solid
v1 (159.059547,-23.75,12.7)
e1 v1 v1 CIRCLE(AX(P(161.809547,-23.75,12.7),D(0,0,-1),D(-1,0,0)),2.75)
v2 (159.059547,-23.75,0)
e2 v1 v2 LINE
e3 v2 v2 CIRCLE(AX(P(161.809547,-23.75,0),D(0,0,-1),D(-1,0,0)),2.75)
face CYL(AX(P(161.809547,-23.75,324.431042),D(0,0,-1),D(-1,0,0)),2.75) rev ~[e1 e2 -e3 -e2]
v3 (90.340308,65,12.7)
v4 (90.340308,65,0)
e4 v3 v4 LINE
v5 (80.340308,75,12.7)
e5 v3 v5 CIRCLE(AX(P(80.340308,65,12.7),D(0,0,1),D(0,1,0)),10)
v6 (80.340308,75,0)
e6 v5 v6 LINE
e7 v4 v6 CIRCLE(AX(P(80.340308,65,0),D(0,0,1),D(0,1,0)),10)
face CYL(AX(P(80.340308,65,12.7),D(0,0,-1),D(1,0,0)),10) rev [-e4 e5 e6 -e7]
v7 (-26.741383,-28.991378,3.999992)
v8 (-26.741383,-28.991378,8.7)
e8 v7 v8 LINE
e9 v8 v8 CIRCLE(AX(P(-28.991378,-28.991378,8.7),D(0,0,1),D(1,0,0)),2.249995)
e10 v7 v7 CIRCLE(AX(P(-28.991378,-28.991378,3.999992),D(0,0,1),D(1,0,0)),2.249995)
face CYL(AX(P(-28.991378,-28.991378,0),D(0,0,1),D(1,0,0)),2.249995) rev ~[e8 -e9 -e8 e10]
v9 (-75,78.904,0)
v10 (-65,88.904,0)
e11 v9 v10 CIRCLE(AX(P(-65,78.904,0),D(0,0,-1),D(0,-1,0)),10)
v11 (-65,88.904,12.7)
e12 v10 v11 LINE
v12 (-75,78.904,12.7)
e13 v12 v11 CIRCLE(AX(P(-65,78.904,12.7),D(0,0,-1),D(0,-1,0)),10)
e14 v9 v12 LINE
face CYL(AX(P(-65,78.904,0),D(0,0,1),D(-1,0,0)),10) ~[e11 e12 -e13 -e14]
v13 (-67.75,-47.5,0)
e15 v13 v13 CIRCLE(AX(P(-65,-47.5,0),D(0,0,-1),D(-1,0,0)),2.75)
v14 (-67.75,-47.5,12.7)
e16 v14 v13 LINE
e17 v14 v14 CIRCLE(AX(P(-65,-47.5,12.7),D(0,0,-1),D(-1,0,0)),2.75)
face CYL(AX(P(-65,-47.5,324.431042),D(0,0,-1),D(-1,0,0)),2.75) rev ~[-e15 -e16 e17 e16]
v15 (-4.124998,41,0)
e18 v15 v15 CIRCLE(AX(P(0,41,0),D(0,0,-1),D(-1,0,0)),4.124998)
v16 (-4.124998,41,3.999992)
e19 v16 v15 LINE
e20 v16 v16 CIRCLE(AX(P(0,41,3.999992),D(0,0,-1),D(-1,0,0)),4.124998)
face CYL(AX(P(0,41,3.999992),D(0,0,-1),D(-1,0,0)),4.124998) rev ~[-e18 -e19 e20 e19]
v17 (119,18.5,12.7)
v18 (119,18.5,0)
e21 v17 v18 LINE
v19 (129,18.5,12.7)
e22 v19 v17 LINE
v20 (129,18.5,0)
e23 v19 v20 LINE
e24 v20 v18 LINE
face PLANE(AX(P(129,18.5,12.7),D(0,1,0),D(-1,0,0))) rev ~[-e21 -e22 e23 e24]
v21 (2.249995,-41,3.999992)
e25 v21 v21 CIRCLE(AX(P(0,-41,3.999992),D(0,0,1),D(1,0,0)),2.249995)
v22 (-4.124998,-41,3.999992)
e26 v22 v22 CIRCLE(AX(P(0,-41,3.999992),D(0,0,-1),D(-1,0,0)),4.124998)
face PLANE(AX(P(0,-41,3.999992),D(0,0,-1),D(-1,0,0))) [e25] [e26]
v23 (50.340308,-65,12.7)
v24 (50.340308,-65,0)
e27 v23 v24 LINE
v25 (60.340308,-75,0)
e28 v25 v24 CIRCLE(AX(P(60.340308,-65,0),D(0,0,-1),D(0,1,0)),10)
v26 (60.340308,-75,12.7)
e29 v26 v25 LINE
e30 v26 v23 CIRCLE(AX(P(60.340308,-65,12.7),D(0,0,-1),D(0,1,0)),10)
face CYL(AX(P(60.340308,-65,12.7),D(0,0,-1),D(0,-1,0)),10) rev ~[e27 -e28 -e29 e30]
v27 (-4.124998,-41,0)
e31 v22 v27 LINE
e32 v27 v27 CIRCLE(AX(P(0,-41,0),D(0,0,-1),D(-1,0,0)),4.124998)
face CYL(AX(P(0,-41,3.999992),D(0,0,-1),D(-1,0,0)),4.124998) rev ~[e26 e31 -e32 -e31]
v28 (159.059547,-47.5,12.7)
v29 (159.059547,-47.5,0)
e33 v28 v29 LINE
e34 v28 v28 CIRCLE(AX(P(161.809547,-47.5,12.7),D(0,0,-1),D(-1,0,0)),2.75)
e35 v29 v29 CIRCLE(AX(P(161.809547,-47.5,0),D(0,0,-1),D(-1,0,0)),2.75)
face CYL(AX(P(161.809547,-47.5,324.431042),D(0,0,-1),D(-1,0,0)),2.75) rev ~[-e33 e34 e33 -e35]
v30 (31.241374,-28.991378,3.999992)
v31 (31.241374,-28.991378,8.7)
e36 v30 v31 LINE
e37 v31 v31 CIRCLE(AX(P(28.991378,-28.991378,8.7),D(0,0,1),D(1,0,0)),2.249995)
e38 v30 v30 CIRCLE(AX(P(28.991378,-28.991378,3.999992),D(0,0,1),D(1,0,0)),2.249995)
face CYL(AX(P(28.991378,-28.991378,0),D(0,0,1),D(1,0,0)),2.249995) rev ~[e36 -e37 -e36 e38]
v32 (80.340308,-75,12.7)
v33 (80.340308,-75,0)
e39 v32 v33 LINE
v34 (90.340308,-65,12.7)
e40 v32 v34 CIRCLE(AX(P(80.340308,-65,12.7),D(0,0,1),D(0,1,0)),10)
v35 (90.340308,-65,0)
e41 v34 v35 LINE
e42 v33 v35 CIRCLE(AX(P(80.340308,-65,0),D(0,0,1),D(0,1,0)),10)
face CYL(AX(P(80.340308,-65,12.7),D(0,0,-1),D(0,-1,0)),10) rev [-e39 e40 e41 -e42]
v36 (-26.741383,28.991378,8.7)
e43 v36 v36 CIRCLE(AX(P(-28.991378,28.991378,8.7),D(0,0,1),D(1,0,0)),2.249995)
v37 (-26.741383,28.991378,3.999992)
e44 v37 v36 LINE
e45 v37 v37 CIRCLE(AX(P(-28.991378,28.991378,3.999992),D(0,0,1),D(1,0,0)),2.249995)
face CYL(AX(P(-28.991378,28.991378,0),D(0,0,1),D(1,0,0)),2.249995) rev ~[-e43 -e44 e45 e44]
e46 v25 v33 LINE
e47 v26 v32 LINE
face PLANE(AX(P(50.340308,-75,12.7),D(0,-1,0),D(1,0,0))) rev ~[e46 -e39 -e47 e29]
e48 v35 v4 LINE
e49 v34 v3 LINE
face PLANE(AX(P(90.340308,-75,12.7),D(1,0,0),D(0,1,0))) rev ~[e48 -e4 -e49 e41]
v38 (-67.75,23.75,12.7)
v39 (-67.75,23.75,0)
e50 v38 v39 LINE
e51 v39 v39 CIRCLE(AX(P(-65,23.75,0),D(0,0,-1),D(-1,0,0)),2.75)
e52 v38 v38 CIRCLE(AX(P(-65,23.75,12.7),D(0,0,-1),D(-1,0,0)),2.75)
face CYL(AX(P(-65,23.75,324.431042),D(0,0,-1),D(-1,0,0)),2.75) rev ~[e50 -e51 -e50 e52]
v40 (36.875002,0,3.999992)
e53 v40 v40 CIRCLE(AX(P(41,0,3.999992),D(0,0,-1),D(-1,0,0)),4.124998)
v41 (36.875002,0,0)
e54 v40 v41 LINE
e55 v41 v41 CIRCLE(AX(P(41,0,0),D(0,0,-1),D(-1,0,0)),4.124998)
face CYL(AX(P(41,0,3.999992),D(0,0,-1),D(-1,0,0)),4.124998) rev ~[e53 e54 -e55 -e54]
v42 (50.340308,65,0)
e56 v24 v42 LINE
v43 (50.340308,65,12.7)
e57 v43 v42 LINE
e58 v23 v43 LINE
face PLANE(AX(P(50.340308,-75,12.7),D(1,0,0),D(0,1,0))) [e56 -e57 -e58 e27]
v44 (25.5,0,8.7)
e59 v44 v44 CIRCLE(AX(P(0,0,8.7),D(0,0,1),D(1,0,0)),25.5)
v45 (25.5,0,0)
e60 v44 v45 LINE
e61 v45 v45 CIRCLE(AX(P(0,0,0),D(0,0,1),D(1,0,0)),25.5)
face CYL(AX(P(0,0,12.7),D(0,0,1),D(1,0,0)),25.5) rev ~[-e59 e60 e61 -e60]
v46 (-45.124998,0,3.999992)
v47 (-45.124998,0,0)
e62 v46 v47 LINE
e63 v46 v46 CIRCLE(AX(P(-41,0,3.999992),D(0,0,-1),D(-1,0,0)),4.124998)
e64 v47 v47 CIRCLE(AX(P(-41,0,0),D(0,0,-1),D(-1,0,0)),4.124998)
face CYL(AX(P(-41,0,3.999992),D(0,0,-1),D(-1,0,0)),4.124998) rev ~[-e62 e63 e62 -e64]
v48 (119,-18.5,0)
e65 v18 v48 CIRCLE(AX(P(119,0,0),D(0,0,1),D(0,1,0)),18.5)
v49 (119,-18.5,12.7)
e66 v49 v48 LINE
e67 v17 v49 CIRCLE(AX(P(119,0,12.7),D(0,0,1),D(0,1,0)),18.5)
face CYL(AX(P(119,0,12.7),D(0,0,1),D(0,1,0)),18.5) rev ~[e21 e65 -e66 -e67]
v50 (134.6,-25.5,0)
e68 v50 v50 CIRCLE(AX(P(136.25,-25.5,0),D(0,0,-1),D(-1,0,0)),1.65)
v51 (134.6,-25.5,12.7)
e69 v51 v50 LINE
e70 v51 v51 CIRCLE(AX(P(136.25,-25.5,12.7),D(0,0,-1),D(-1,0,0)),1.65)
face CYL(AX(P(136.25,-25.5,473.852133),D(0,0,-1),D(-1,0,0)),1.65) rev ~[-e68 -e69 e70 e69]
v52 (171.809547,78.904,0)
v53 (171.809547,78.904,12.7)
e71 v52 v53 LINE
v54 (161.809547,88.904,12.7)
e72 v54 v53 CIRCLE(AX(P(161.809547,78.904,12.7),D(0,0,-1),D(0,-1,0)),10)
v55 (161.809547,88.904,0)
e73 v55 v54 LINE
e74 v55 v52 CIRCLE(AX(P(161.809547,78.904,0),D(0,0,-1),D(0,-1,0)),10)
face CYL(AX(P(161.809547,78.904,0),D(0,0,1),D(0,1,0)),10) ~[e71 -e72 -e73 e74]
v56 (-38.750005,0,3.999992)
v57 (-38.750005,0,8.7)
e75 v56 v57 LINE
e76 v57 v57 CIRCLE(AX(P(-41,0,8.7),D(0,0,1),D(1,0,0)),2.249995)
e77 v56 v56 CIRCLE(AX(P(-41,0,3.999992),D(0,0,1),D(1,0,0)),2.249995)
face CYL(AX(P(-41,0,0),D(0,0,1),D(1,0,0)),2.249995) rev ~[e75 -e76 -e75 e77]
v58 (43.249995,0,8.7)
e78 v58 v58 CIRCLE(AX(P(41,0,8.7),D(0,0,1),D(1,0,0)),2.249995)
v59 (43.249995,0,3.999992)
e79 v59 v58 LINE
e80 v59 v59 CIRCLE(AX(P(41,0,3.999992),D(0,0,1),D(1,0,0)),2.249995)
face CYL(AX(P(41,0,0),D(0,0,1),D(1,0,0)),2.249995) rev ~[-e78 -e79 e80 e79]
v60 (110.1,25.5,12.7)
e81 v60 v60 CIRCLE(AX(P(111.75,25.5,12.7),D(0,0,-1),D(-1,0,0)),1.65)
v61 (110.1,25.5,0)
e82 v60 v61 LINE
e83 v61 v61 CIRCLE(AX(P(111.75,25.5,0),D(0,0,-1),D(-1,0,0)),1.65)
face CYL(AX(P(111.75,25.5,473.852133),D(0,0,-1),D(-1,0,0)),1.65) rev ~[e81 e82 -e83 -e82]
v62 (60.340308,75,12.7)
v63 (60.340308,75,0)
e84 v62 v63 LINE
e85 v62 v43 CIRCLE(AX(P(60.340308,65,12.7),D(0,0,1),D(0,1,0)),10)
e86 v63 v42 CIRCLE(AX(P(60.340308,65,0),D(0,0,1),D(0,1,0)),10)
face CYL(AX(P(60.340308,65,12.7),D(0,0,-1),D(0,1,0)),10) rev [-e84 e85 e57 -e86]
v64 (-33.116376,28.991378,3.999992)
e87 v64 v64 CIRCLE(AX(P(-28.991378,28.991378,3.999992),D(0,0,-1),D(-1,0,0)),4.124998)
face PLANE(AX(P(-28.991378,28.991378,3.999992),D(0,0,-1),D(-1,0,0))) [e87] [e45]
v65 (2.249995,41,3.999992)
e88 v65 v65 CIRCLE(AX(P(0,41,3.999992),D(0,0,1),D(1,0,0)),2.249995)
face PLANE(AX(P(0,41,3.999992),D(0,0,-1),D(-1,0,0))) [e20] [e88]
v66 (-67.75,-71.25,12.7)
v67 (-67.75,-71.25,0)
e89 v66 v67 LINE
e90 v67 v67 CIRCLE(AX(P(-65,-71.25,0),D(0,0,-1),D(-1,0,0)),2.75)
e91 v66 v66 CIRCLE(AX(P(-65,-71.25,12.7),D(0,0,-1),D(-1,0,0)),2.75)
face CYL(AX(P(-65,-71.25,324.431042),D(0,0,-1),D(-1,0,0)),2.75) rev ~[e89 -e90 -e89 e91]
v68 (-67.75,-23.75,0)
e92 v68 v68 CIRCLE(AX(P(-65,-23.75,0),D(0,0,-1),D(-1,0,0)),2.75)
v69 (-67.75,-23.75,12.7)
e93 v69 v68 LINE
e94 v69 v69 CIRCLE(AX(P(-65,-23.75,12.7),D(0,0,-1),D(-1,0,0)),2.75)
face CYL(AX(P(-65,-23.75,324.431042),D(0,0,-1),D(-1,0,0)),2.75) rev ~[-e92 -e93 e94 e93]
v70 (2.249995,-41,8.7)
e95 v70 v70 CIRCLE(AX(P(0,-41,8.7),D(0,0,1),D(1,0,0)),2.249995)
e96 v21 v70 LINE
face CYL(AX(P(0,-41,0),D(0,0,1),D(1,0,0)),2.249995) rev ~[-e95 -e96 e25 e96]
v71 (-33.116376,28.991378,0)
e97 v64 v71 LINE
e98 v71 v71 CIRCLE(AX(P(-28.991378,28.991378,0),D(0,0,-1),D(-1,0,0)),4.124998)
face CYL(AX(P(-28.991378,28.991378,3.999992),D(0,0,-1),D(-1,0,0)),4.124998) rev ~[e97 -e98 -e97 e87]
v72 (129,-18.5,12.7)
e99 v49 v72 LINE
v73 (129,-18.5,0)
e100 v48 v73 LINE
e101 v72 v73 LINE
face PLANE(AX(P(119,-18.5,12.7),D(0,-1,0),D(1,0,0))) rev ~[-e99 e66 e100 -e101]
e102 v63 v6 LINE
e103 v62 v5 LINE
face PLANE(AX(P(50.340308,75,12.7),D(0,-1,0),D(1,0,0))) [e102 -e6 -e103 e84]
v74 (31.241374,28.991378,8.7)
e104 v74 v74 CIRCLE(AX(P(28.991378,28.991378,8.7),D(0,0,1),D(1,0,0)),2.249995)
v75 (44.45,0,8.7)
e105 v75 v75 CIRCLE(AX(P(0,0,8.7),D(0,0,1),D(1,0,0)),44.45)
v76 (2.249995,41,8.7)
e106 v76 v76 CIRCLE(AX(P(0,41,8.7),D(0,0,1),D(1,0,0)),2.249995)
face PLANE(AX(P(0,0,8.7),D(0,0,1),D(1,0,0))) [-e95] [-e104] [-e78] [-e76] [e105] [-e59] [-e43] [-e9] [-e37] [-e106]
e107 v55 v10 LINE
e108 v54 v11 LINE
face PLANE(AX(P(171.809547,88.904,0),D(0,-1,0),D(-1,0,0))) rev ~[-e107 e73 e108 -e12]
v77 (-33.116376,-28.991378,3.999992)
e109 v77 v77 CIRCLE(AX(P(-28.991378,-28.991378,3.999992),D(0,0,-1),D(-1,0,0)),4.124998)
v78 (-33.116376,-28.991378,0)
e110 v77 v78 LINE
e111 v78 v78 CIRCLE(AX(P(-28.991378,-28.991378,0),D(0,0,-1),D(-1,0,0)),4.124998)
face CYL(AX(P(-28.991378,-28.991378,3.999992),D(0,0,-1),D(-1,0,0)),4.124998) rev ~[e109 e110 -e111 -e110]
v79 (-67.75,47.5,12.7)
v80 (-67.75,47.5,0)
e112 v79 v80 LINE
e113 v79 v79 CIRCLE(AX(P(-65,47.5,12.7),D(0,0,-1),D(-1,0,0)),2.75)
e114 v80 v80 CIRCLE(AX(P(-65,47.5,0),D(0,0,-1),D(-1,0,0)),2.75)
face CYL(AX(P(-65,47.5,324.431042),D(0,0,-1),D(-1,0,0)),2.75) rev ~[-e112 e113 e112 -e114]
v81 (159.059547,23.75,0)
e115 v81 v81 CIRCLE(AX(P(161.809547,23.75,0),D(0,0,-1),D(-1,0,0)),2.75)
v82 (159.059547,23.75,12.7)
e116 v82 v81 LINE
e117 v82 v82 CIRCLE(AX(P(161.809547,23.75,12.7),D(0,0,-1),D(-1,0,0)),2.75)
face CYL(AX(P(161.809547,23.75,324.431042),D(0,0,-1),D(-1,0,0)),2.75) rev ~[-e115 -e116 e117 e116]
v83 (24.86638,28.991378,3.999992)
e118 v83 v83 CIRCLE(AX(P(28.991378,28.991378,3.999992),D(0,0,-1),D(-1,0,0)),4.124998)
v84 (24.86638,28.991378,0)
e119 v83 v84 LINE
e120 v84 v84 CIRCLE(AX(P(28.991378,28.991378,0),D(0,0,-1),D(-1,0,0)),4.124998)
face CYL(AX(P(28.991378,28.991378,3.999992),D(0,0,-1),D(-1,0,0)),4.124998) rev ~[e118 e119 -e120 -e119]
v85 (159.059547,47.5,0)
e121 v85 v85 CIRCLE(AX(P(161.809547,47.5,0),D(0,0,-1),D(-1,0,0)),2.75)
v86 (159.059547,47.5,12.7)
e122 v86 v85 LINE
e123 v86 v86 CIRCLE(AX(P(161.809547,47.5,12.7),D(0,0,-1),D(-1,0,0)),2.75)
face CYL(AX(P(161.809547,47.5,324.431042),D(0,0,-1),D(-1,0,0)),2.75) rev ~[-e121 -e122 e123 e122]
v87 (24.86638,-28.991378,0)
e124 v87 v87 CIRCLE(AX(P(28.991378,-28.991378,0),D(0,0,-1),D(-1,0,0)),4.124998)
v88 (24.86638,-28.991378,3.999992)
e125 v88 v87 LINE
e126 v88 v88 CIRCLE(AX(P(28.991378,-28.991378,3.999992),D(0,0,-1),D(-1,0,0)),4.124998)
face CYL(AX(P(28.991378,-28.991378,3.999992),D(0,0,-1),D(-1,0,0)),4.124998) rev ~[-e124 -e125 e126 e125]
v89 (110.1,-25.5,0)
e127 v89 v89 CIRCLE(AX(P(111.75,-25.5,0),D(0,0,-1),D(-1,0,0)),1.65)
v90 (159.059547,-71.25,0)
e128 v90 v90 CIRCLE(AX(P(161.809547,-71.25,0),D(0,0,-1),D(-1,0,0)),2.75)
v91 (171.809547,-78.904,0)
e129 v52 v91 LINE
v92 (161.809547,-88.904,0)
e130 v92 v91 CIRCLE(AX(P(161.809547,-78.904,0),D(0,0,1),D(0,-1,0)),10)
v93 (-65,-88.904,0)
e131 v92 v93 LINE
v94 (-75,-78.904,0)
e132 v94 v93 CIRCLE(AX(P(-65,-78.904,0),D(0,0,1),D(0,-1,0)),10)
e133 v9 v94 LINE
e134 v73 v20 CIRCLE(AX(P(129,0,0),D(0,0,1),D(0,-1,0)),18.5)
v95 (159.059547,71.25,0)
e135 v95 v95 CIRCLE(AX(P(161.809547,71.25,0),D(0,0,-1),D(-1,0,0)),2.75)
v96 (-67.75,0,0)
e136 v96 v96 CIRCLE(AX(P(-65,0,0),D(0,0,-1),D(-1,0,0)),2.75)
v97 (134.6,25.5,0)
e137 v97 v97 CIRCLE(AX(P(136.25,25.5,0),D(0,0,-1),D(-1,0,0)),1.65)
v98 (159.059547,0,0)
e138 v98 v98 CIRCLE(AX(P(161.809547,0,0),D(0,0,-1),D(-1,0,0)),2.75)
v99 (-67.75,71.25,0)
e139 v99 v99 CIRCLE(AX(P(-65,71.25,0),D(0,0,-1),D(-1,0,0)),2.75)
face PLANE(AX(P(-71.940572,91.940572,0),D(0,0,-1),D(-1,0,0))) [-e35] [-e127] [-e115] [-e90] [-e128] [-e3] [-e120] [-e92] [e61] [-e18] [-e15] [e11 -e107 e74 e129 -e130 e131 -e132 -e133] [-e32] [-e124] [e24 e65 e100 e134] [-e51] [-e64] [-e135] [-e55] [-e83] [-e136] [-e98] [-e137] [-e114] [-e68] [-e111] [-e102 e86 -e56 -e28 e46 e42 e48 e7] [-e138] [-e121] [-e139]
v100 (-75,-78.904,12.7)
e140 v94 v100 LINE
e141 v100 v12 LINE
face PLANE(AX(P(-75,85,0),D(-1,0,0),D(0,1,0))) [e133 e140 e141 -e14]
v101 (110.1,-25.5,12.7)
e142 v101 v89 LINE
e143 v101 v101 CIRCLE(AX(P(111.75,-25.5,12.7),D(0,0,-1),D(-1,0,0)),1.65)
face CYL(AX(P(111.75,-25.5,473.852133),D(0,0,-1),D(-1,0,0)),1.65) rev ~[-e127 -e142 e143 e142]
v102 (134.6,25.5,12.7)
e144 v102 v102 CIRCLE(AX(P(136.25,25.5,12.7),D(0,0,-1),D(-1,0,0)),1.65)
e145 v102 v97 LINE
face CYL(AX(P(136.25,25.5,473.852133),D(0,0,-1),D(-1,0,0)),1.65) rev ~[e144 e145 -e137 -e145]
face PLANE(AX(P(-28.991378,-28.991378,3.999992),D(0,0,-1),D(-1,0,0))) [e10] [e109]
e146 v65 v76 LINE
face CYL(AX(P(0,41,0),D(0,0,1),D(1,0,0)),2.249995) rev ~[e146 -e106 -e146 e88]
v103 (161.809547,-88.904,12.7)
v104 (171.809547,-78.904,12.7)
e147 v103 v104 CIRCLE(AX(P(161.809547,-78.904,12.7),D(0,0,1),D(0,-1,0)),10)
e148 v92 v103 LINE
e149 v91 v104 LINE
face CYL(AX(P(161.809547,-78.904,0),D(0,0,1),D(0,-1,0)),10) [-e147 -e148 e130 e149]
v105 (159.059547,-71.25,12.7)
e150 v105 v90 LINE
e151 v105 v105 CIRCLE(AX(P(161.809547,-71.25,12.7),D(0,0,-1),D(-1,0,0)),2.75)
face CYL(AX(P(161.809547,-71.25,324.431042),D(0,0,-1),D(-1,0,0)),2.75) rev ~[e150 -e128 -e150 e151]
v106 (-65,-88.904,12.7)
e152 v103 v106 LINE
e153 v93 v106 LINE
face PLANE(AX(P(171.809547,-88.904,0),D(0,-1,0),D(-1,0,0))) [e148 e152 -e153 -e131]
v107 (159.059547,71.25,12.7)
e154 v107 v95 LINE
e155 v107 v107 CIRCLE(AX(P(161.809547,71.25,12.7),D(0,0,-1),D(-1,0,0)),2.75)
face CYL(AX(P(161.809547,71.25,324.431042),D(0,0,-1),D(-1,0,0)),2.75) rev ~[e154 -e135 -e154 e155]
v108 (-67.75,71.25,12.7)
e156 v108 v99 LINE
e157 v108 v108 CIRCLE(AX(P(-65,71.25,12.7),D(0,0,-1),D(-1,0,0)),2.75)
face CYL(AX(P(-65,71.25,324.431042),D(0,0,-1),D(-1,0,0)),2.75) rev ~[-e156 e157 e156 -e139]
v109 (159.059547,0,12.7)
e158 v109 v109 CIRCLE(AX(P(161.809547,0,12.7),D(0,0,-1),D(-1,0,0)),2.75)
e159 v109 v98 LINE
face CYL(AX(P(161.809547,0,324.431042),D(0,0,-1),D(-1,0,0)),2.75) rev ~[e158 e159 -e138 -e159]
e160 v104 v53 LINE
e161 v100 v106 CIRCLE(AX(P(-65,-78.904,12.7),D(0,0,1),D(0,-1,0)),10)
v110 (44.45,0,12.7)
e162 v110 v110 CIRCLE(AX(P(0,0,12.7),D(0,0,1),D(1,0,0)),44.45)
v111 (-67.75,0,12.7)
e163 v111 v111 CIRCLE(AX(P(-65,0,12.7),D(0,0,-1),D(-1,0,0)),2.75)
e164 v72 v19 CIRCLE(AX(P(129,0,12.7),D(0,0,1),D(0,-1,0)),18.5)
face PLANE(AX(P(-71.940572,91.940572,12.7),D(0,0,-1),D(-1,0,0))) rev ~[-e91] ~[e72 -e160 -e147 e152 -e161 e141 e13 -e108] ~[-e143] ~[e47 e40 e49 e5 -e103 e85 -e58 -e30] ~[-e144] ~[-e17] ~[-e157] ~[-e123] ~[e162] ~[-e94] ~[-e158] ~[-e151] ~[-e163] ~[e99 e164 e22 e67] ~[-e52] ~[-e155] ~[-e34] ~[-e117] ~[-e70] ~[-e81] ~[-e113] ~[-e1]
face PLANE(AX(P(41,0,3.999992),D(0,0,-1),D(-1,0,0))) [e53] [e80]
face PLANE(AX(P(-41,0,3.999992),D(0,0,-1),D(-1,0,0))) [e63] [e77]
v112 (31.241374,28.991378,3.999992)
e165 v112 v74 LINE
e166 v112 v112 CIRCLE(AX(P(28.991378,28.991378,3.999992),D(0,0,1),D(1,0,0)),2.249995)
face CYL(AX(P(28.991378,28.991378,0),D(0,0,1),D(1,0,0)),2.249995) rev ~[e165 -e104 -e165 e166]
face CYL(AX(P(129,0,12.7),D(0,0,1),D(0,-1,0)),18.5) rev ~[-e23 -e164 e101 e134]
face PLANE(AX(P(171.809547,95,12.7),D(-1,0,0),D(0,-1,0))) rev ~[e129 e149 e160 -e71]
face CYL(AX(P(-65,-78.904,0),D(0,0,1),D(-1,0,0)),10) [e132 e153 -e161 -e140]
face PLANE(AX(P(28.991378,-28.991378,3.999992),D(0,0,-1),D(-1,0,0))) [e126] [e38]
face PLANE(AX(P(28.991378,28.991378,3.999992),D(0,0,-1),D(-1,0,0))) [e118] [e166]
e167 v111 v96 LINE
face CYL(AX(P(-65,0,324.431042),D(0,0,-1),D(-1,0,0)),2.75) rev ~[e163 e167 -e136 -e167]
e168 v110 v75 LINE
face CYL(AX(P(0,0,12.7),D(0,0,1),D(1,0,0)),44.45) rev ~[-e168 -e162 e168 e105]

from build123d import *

# Parameters (mm, degrees)
SKETCH1_W                                           = 420
SKETCH1_H                                           = 190
BOSS_EXTRUDE1_DEPTH                                 = 12.7
FILLET1_R                                           = 10
SKETCH8_R                                           = 44.45
CUT_EXTRUDE1_DEPTH                                  = 4
SKETCH8_3_R                                         = 25.5
CUT_EXTRUDE2_DEPTH                                  = 13.7
CBORE_FOR_8_BINDING_HEAD_MACHINE_SCREW1_D           = 4.499991
CBORE_FOR_8_BINDING_HEAD_MACHINE_SCREW1_DEPTH       = 10
CBORE_FOR_8_BINDING_HEAD_MACHINE_SCREW1_CBORE_D     = 8.2499962
CBORE_FOR_8_BINDING_HEAD_MACHINE_SCREW1_CBORE_DEPTH = 3.999992
CBORE_FOR_8_BINDING_HEAD_MACHINE_SCREW1_TIP         = 1.351933689
CUT_EXTRUDE3_DEPTH                                  = 13.7
TAP_DRILL_FOR_M4X0_7_TAP1_D                         = 3.3
SKETCH18_W                                          = 135
SKETCH18_H                                          = 190
CUT_EXTRUDE4_DEPTH                                  = 13.7
FILLET2_R                                           = 10
SKETCH25_W                                          = 38.190452802
SKETCH25_H                                          = 150
CUT_EXTRUDE5_DEPTH                                  = 13.7
SKETCH26_W                                          = 40
SKETCH26_H                                          = 150
CUT_EXTRUDE6_DEPTH                                  = 13.7
FILLET4_R                                           = 10
CUT_EXTRUDE8_DEPTH                                  = 1
CUT_EXTRUDE8_DEPTH_BACK                             = 13.7
FILLET6_R                                           = 10
M5_CLEARANCE_HOLE4_D                                = 5.5
BOSS_EXTRUDE4_DEPTH                                 = 12.7
SKETCH42_W                                          = 246.809547198
SKETCH42_H                                          = 6.096
CUT_EXTRUDE9_DEPTH                                  = 12.7
FILLET7_R                                           = 10


with BuildPart() as part:
    # Sketch1 → Boss-Extrude1 (new body)
    with BuildSketch(Plane.XY):
        Rectangle(SKETCH1_W, SKETCH1_H)
    extrude(amount=BOSS_EXTRUDE1_DEPTH)

    # Fillet1
    fillet1_edges = [part.edges().sort_by_distance(p)[0] for p in [
        (210, -95, 6.35),
        (-210, -95, 6.35),
        (-210, 95, 6.35),
        (210, 95, 6.35),
    ]]
    fillet(fillet1_edges, radius=FILLET1_R)

    # Sketch8 → Cut-Extrude1 (cut)
    with BuildSketch(Plane.XY.offset(12.7)):
        Circle(SKETCH8_R)
    extrude(amount=-CUT_EXTRUDE1_DEPTH, mode=Mode.SUBTRACT)

    # Sketch8<3> → Cut-Extrude2 (cut, through all)
    with BuildSketch(Plane.XY.offset(12.7)):
        Circle(SKETCH8_3_R)
    extrude(amount=-CUT_EXTRUDE2_DEPTH, mode=Mode.SUBTRACT)

    # CBORE for #8 Binding Head Machine Screw1
    with Locations(Plane(origin=(0, 0, 0), x_dir=(-1, 0, 0), z_dir=(0, 0, -1))):
        with Locations((0, 41), (0, -41), (28.991378029, -28.991378029), (-28.991378029, -28.991378029), (-41, 0), (41, 0), (-28.991378029, 28.991378029), (28.991378029, 28.991378029)):
            CounterBoreHole(CBORE_FOR_8_BINDING_HEAD_MACHINE_SCREW1_D / 2, CBORE_FOR_8_BINDING_HEAD_MACHINE_SCREW1_CBORE_D / 2, CBORE_FOR_8_BINDING_HEAD_MACHINE_SCREW1_CBORE_DEPTH, depth=CBORE_FOR_8_BINDING_HEAD_MACHINE_SCREW1_DEPTH)
            with Locations((0, 0, -(CBORE_FOR_8_BINDING_HEAD_MACHINE_SCREW1_DEPTH + CBORE_FOR_8_BINDING_HEAD_MACHINE_SCREW1_TIP / 2))):  # 118° drill point
                Cone(0, CBORE_FOR_8_BINDING_HEAD_MACHINE_SCREW1_D / 2, CBORE_FOR_8_BINDING_HEAD_MACHINE_SCREW1_TIP, mode=Mode.SUBTRACT)

    # Sketch12 → Cut-Extrude3 (cut, through all)
    with BuildSketch(Plane.XY.offset(12.7)):
        with BuildLine():
            Line((119, -18.5), (129, -18.5))
            ThreePointArc((129, -18.5), (147.5, 0), (129, 18.5))
            Line((129, 18.5), (119, 18.5))
            ThreePointArc((119, 18.5), (100.5, 0), (119, -18.5))
        make_face()
    extrude(amount=-CUT_EXTRUDE3_DEPTH, mode=Mode.SUBTRACT)

    # Tap Drill for M4x0.7 Tap1 (through all)
    with Locations(Plane.XY.offset(12.7)):
        with Locations((111.75, 25.5), (136.25, 25.5), (111.75, -25.5), (136.25, -25.5)):
            Hole(TAP_DRILL_FOR_M4X0_7_TAP1_D / 2)

    # Sketch18 → Cut-Extrude4 (cut, through all)
    with BuildSketch(Plane.XY.offset(12.7)):
        with Locations((-142.5, 0)):
            Rectangle(SKETCH18_W, SKETCH18_H)
    extrude(amount=-CUT_EXTRUDE4_DEPTH, mode=Mode.SUBTRACT)

    # Fillet2
    fillet2_edges = [part.edges().sort_by_distance(p)[0] for p in [
        (-75, 95, 6.35),
        (-75, -95, 6.35),
    ]]
    fillet(fillet2_edges, radius=FILLET2_R)

    # Sketch25 → Cut-Extrude5 (cut, through all)
    with BuildSketch(Plane.XY.offset(12.7)):
        with Locations((190.904773599, 0)):
            Rectangle(SKETCH25_W, SKETCH25_H)
    extrude(amount=-CUT_EXTRUDE5_DEPTH, mode=Mode.SUBTRACT)

    # Sketch26 → Cut-Extrude6 (cut, through all)
    with BuildSketch(Plane.XY.offset(12.7)):
        with Locations((70.340308105, 0)):
            Rectangle(SKETCH26_W, SKETCH26_H)
    extrude(amount=-CUT_EXTRUDE6_DEPTH, mode=Mode.SUBTRACT)

    # Fillet4
    fillet4_edges = [part.edges().sort_by_distance(p)[0] for p in [
        (90.340308105, 75, 6.35),
        (90.340308105, -75, 6.35),
        (50.340308105, -75, 6.35),
        (50.340308105, 75, 6.35),
    ]]
    fillet(fillet4_edges, radius=FILLET4_R)

    # Sketch35 → Cut-Extrude8 (cut, two sides)
    with BuildSketch(Plane.XY.offset(12.7)) as cut_extrude8_sk:
        Polygon((171.809547198, -75), (171.809547198, -95), (219.38654528, -95), (219.38654528, 95), (171.809547198, 95), align=None)
    extrude(amount=CUT_EXTRUDE8_DEPTH, mode=Mode.SUBTRACT)
    extrude(cut_extrude8_sk.sketch, amount=-CUT_EXTRUDE8_DEPTH_BACK, mode=Mode.SUBTRACT)

    # Fillet6
    fillet6_edges = [part.edges().sort_by_distance(p)[0] for p in [
        (171.809547198, -95, 6.35),
        (171.809547198, 95, 6.35),
    ]]
    fillet(fillet6_edges, radius=FILLET6_R)

    # M5 Clearance Hole4 (through all)
    with Locations(Plane.XY.offset(12.7)):
        with Locations((161.809547198, -71.25), (161.809547198, -47.5), (161.809547198, -23.75), (161.809547198, 0), (161.809547198, 23.75), (161.809547198, 47.5), (161.809547198, 71.25), (-65, 71.25), (-65, 47.5), (-65, 23.75), (-65, 0), (-65, -23.75), (-65, -47.5), (-65, -71.25)):
            Hole(M5_CLEARANCE_HOLE4_D / 2)

    # Sketch41 → Boss-Extrude4 (add)
    with BuildSketch(Plane(origin=(0, 0, 0), x_dir=(-1, 0, 0), z_dir=(0, 0, -1))):
        with BuildLine():
            Line((75, 85), (75, 95))
            Line((75, 95), (65, 95))
            ThreePointArc((65, 95), (72.071067812, 92.071067812), (75, 85))
        make_face()
        with BuildLine():
            Line((75, -95), (65, -95))
            ThreePointArc((65, -95), (72.071067812, -92.071067812), (75, -85))
            Line((75, -85), (75, -95))
        make_face()
        with BuildLine():
            Line((-171.809547198, -85), (-171.809547198, -95))
            Line((-171.809547198, -95), (-161.809547198, -95))
            ThreePointArc((-161.809547198, -95), (-168.88061501, -92.071067812), (-171.809547198, -85))
        make_face()
        with BuildLine():
            Line((-171.809547198, 95), (-161.809547198, 95))
            ThreePointArc((-161.809547198, 95), (-168.88061501, 92.071067812), (-171.809547198, 85))
            Line((-171.809547198, 85), (-171.809547198, 95))
        make_face()
    extrude(amount=-BOSS_EXTRUDE4_DEPTH)

    # Sketch42 → Cut-Extrude9 (cut)
    with BuildSketch(Plane(origin=(0, 0, 0), x_dir=(-1, 0, 0), z_dir=(0, 0, -1))):
        with Locations((-48.404773599, 91.952)):
            Rectangle(SKETCH42_W, SKETCH42_H)
        with Locations((-48.404773599, -91.952)):
            Rectangle(SKETCH42_W, SKETCH42_H)
    extrude(amount=-CUT_EXTRUDE9_DEPTH, mode=Mode.SUBTRACT)

    # Fillet7
    fillet7_edges = [part.edges().sort_by_distance(p)[0] for p in [
        (171.809547198, 88.904, 6.35),
        (-75, 88.904, 6.35),
        (-75, -88.904, 6.35),
        (171.809547198, -88.904, 6.35),
    ]]
    fillet(fillet7_edges, radius=FILLET7_R)


solid = part.part
